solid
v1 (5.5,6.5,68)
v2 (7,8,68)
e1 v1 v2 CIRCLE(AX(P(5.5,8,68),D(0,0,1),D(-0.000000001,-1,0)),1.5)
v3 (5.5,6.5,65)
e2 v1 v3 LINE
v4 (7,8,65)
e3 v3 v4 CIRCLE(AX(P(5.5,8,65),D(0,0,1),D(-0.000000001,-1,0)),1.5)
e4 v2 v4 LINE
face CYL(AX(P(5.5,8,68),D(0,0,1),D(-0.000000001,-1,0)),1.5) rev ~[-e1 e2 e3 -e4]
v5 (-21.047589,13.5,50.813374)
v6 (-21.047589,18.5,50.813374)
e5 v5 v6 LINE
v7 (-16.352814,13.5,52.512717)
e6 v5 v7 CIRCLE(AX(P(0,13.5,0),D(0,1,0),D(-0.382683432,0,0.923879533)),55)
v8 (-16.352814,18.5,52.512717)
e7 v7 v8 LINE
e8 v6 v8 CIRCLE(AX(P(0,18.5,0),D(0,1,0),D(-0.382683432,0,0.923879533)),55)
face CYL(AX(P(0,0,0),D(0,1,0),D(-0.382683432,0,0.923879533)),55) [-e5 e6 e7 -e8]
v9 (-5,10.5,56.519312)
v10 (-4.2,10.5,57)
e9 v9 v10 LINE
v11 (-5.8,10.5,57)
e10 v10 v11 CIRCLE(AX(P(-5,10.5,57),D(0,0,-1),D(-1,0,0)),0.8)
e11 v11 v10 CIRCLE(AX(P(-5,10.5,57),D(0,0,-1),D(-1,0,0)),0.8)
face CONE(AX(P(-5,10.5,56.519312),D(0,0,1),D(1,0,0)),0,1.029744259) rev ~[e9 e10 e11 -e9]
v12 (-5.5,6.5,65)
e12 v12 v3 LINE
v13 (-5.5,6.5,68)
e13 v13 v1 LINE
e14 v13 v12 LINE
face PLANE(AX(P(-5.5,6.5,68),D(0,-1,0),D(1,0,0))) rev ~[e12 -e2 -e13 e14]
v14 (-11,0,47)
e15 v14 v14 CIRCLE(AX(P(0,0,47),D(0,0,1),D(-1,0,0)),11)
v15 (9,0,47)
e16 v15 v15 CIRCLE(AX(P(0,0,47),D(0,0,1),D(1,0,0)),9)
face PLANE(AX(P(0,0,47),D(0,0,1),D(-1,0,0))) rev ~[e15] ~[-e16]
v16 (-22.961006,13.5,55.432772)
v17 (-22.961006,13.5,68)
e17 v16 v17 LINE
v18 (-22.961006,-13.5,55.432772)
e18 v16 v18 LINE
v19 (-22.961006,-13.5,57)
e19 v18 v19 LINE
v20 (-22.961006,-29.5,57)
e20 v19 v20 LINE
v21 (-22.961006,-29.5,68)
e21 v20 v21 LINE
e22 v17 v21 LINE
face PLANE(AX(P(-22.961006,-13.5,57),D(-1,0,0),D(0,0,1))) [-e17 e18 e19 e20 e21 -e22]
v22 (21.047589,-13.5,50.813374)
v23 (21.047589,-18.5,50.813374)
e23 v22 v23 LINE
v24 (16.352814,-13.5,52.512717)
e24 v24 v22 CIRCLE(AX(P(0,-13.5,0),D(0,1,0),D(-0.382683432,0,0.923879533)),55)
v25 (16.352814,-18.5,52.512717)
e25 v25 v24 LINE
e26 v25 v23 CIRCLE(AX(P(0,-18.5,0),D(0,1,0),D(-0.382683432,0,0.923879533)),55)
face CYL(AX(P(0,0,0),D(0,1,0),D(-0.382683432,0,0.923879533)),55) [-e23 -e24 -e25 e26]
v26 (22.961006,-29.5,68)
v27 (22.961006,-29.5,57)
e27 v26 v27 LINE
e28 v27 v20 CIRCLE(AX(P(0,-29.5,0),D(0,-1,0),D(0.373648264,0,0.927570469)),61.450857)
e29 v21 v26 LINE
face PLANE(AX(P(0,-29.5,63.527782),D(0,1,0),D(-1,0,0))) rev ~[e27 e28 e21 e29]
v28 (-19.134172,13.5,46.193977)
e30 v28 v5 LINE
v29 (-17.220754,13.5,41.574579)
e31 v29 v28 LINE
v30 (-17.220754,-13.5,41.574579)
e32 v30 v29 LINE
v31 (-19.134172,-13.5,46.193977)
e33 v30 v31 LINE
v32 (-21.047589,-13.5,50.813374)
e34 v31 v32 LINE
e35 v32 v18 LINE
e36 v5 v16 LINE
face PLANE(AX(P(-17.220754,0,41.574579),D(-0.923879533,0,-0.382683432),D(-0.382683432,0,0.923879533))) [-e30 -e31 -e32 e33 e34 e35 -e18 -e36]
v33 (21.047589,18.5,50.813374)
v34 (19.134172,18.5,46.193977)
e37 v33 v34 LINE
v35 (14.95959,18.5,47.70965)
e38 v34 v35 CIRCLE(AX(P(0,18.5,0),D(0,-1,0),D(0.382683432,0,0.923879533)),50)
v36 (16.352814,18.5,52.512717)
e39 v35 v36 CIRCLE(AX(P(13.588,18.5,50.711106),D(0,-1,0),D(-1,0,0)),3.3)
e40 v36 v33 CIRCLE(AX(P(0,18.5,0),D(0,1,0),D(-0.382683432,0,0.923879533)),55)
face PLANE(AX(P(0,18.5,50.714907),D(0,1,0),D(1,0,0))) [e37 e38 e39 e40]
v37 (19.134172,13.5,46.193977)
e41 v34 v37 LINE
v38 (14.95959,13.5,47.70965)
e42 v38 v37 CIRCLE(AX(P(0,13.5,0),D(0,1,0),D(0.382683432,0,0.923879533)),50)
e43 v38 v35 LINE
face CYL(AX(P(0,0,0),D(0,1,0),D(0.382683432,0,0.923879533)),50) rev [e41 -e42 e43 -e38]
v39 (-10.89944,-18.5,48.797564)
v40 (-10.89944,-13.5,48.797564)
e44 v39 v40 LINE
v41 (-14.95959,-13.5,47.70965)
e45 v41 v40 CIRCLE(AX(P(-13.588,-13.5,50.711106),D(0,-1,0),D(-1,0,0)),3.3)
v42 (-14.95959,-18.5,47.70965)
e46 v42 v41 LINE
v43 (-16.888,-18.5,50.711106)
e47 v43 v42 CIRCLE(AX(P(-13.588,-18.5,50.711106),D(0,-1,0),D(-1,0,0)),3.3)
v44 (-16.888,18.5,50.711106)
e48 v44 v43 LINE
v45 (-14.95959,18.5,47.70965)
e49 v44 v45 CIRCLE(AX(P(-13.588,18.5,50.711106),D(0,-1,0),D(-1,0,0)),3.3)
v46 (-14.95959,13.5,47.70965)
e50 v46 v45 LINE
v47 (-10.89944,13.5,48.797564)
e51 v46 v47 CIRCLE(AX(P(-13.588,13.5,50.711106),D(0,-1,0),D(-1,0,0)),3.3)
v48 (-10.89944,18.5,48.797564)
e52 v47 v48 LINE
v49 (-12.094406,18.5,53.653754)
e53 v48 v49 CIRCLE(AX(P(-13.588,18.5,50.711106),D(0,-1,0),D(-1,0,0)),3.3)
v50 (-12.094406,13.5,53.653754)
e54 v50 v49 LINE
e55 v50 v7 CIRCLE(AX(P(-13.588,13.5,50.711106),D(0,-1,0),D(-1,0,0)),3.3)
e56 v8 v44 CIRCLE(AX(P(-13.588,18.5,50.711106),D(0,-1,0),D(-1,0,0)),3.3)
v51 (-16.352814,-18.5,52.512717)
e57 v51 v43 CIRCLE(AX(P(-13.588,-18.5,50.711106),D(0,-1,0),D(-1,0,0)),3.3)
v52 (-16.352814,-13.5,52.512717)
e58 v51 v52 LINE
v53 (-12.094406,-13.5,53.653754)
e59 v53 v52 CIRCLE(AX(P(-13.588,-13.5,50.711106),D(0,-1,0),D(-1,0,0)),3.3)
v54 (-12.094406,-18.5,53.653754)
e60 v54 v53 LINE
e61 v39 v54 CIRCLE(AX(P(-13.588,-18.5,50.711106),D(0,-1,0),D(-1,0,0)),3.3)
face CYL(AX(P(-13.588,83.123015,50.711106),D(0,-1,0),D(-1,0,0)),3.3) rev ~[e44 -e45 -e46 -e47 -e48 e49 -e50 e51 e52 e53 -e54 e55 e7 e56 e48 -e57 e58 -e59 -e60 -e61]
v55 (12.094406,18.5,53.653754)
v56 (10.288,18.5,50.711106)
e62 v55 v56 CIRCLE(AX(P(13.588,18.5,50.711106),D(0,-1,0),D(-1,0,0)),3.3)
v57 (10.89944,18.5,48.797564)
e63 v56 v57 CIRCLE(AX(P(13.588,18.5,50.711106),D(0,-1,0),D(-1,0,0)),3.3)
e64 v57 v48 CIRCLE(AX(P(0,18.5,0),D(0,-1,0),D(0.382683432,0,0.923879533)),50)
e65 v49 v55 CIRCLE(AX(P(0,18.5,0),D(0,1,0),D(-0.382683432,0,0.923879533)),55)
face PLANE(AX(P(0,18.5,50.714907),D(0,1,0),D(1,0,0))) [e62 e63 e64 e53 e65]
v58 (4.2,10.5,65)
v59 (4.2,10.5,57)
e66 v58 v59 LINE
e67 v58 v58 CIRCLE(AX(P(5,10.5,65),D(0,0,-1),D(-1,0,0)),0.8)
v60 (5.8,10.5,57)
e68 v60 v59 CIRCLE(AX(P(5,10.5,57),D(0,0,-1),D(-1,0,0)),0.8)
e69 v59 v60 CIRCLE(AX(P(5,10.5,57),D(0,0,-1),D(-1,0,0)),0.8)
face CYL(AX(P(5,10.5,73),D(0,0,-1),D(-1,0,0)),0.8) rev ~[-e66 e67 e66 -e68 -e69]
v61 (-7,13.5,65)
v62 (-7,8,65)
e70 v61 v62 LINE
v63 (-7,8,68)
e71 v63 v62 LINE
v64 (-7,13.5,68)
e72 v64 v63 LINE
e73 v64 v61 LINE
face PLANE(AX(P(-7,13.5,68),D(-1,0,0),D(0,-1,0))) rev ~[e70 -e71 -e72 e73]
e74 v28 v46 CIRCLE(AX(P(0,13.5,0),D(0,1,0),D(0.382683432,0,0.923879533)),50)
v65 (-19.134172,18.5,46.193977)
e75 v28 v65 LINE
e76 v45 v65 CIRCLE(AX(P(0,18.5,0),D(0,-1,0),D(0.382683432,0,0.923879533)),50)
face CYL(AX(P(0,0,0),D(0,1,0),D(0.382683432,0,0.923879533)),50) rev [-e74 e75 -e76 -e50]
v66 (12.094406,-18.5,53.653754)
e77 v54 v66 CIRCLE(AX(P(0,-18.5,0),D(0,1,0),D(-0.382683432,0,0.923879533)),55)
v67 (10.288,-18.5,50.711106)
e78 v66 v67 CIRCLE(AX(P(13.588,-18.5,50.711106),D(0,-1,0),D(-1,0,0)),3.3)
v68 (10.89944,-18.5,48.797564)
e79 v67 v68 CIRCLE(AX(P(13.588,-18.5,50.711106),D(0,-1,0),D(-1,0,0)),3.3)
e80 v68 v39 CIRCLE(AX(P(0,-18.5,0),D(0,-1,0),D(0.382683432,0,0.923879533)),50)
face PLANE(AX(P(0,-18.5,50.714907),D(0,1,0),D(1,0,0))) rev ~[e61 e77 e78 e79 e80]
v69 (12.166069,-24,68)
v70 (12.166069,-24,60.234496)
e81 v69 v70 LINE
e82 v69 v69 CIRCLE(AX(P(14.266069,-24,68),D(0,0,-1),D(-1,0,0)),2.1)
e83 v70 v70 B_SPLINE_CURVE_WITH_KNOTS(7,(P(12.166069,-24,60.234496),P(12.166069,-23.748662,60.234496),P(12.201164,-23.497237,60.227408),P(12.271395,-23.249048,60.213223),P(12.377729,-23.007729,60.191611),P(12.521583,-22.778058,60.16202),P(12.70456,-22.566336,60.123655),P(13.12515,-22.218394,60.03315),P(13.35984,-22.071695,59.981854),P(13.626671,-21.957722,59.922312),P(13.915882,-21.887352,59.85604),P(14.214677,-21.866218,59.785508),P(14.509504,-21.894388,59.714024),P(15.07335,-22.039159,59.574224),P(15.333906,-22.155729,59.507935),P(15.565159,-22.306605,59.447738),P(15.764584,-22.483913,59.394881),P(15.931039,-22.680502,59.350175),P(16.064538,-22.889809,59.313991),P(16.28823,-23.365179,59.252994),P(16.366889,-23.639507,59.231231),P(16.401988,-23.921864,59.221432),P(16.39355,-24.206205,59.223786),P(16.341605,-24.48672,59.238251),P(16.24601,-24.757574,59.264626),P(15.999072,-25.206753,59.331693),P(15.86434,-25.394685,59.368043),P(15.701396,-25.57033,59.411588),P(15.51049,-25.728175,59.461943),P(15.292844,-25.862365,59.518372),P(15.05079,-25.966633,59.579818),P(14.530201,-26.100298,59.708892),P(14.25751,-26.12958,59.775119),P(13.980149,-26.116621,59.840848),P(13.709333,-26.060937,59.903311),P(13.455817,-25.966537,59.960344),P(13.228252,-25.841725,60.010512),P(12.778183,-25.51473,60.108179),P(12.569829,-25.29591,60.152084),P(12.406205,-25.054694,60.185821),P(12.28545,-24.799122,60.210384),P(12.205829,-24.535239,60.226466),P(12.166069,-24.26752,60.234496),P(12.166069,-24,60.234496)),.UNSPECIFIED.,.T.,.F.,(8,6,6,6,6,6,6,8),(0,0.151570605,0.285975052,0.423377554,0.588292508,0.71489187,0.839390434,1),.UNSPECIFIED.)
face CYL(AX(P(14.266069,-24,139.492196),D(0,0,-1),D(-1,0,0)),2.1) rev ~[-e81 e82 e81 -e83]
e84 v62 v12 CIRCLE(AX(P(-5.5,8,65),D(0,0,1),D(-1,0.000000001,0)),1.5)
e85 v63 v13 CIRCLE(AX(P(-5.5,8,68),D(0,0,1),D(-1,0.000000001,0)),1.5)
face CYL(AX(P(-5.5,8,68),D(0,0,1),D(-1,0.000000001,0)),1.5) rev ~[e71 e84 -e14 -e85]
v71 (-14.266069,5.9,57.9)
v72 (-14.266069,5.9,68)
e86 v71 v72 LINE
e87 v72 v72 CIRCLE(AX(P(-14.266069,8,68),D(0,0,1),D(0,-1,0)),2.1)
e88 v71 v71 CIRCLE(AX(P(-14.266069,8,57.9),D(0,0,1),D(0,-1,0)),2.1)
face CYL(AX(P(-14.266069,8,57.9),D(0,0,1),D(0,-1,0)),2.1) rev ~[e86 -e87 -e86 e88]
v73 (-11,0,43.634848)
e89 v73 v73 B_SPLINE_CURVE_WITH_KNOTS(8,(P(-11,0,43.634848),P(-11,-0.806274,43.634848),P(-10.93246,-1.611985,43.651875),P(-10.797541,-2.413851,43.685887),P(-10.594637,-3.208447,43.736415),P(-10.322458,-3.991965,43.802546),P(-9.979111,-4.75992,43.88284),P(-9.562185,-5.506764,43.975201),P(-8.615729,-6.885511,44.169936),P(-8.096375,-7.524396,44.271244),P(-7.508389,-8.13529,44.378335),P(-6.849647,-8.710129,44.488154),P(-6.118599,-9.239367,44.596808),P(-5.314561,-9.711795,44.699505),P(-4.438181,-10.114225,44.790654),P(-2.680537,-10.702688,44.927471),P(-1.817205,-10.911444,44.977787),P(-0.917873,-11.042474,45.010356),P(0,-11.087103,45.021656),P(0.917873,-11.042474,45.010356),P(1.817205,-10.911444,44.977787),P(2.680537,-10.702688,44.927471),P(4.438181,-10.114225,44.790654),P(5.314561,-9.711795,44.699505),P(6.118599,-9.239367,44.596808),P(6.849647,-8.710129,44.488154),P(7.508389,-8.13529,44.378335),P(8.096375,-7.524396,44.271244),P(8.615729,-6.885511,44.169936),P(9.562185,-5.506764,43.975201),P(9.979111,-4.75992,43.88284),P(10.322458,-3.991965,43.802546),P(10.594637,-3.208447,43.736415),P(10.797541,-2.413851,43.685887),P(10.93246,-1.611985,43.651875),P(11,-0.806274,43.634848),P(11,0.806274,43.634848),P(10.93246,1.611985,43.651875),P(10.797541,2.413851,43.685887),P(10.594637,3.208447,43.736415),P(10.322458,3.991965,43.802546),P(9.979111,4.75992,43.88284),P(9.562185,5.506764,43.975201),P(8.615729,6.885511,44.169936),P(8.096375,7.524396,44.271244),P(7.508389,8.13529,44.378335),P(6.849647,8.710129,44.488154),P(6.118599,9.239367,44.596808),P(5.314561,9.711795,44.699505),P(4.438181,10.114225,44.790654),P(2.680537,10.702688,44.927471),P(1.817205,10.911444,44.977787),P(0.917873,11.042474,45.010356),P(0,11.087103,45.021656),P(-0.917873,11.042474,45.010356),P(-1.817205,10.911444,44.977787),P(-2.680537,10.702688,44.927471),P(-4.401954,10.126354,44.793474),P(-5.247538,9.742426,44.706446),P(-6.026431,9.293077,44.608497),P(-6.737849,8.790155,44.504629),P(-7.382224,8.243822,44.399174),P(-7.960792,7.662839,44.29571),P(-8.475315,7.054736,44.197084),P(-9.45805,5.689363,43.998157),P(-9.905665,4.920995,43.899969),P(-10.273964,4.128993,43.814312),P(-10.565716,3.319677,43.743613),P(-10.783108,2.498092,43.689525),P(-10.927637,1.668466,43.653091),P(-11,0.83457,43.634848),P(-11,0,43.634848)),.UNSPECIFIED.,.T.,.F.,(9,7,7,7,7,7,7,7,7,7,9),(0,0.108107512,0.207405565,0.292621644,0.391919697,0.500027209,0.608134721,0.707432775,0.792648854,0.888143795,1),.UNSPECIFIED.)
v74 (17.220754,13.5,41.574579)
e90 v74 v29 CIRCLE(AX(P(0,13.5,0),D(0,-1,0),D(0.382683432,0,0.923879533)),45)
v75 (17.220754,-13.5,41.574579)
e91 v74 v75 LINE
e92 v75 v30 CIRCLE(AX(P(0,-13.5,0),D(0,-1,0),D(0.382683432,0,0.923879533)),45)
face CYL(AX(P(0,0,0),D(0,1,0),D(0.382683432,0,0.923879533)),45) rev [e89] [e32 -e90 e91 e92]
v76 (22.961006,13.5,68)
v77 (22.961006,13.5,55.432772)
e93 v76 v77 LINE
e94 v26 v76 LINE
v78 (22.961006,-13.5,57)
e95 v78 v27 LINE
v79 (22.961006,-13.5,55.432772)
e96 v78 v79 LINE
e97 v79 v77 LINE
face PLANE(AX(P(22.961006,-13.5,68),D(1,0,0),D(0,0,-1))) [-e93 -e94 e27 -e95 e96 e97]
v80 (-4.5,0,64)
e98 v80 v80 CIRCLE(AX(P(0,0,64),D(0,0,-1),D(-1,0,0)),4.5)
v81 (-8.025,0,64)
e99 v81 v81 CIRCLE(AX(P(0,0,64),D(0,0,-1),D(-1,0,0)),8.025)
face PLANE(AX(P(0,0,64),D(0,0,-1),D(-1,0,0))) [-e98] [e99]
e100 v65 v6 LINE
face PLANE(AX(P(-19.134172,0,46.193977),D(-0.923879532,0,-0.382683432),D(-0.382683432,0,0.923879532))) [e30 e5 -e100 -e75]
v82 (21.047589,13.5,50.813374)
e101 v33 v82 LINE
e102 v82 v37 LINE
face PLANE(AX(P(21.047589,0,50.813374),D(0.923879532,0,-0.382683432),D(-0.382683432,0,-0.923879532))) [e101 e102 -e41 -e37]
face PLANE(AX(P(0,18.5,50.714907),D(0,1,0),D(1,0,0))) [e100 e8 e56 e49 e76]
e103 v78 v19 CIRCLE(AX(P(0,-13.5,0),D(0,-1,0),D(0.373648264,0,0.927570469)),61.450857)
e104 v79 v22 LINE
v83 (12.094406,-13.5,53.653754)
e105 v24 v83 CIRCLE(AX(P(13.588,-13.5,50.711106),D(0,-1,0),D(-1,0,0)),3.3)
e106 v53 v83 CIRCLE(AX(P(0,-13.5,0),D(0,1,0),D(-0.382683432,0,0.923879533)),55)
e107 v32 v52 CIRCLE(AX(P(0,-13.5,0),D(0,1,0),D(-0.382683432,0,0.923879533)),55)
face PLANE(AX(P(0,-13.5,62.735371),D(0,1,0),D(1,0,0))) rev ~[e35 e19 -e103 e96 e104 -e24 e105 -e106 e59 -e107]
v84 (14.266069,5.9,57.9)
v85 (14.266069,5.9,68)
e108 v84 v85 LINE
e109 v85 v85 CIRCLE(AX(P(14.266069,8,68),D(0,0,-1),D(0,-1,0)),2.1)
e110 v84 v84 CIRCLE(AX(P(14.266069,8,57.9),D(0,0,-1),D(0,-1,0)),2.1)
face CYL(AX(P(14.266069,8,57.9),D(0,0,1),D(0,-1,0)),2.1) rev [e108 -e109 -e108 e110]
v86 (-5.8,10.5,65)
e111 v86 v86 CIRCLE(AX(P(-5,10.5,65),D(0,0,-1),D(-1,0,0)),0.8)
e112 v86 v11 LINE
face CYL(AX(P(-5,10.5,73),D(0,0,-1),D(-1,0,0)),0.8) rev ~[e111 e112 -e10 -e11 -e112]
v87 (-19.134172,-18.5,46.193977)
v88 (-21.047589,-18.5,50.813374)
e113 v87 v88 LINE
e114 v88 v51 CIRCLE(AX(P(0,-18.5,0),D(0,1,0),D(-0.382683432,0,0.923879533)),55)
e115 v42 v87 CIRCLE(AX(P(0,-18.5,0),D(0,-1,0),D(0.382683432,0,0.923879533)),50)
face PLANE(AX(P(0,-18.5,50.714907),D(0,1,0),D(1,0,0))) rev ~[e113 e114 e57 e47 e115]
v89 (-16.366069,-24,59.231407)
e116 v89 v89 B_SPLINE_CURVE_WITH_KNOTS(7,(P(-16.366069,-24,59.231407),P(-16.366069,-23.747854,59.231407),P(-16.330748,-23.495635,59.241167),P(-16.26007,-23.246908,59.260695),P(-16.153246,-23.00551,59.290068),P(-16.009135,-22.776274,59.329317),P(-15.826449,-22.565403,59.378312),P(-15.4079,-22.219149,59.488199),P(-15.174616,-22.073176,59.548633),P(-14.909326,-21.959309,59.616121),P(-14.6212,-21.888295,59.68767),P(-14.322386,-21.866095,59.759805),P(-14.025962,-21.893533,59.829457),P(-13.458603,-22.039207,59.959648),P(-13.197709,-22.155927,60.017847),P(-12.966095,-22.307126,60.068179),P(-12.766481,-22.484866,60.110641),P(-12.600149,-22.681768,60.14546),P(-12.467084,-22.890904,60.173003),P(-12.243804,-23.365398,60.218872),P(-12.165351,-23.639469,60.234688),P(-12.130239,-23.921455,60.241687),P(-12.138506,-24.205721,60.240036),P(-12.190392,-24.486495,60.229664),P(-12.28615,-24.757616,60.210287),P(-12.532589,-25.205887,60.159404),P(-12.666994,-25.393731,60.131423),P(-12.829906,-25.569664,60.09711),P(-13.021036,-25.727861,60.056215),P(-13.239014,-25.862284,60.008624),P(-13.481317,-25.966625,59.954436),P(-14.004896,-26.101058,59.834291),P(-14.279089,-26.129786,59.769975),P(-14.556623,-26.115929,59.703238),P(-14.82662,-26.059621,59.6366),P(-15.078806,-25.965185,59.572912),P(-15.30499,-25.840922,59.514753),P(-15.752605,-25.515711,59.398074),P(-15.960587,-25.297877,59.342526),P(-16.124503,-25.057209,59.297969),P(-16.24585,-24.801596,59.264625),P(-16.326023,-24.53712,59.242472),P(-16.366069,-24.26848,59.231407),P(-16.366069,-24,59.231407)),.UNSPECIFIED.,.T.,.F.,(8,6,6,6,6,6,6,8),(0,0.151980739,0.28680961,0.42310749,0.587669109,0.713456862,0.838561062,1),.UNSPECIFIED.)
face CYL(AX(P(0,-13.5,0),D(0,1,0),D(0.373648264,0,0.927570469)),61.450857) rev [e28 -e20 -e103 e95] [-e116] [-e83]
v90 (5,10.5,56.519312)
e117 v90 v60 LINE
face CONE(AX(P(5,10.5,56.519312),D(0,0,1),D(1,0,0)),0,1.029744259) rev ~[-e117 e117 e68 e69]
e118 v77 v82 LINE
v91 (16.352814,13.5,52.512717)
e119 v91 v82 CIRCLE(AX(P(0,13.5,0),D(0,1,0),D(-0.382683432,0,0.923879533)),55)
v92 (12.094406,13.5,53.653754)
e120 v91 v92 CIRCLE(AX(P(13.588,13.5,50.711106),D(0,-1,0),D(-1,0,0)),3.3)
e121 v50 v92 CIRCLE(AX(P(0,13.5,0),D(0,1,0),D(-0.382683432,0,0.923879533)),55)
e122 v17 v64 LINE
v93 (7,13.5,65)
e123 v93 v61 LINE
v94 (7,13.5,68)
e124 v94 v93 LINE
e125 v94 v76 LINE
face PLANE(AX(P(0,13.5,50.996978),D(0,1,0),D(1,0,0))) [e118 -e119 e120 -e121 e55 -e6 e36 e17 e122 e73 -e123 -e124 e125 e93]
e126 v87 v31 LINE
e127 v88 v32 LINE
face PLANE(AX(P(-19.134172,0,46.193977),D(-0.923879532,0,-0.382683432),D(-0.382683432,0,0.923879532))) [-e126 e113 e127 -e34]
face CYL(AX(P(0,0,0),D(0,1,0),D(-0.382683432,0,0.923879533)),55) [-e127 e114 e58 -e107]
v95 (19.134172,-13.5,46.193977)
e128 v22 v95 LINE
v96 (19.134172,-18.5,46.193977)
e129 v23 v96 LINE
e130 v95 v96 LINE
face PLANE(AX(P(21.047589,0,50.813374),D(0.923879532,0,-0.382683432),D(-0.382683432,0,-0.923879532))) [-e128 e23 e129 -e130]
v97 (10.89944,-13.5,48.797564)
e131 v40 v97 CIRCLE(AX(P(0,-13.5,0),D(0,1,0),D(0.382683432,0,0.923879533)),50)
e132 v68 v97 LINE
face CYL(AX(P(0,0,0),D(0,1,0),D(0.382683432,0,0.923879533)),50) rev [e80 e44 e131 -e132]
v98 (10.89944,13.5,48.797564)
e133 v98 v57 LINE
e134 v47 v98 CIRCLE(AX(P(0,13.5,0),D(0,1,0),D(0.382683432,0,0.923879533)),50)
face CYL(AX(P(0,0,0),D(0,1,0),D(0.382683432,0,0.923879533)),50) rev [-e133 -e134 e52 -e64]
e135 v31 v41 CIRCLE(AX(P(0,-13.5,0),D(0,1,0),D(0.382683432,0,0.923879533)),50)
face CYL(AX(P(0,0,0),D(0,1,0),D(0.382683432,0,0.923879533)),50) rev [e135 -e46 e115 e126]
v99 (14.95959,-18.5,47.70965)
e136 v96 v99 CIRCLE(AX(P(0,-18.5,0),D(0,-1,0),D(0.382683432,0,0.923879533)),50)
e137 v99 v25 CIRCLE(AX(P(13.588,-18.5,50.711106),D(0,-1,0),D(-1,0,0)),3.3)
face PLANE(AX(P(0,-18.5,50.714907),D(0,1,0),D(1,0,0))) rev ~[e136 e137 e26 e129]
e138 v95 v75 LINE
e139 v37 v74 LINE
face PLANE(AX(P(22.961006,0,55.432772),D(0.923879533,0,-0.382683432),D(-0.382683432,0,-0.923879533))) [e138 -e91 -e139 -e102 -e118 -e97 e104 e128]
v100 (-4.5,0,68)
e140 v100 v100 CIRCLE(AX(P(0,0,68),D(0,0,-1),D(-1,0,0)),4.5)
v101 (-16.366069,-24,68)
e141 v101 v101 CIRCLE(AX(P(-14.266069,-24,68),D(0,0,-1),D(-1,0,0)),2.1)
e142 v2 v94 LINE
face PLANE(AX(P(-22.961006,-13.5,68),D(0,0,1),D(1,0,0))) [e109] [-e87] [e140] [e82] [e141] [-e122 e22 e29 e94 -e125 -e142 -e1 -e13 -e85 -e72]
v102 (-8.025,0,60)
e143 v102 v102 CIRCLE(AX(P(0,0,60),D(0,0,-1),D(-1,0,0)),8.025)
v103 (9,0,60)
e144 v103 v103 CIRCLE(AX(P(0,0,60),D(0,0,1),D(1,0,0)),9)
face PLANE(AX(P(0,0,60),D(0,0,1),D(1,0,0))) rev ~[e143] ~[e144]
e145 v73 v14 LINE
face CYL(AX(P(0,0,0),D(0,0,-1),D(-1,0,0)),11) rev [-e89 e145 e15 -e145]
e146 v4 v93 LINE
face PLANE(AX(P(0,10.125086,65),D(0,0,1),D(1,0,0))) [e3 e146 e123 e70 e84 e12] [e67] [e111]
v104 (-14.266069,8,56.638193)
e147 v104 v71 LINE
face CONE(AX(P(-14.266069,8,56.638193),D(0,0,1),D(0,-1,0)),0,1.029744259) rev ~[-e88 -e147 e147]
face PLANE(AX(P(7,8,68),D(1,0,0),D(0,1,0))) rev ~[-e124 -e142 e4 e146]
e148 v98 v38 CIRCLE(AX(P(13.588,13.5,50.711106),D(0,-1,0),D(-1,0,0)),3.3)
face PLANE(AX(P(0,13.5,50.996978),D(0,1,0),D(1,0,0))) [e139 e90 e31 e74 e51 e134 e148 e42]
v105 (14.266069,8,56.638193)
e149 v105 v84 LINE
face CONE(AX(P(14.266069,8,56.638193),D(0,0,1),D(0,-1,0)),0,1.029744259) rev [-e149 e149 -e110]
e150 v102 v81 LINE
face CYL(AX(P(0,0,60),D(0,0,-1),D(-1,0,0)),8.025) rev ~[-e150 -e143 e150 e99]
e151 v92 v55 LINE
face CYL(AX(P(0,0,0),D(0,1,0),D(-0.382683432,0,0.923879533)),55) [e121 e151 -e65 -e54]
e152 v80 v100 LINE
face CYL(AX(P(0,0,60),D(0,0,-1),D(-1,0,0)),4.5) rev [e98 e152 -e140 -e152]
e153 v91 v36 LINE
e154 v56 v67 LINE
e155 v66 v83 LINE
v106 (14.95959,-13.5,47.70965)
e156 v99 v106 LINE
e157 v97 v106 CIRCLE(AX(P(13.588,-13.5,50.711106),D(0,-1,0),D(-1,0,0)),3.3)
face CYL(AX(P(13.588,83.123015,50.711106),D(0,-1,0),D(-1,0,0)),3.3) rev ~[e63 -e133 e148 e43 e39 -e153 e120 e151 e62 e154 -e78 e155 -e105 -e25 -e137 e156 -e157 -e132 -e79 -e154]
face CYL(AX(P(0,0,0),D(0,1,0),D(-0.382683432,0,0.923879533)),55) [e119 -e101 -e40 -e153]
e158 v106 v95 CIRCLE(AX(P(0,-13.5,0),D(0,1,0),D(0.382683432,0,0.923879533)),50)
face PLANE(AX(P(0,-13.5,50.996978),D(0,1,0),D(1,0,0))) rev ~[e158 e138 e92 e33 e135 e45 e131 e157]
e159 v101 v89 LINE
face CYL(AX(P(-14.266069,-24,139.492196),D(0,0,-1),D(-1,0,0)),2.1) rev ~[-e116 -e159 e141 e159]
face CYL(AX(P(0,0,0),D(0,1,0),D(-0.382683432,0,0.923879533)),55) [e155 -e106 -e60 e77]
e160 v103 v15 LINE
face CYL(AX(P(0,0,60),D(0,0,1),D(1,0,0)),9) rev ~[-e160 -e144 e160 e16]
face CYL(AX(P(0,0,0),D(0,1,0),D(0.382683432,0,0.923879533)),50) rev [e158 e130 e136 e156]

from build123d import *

# Parameters (mm, degrees)
BOSS_EXTRUDE1_DEPTH      = 13.5
BOSS_EXTRUDE2_DEPTH      = 18.5
BOSS_EXTRUDE3_DEPTH      = 5
SKETCH4_W                = 45.922011884
SKETCH4_H                = 20
BOSS_EXTRUDE4_DEPTH      = 13.5
SKETCH2_R                = 4
CUT_EXTRUDE1_DEPTH       = 268.629329099
SKETCH5_R                = 8
CUT_EXTRUDE2_DEPTH       = 4
SKETCH6_R                = 9
CUT_EXTRUDE3_DEPTH       = 12
SKETCH7_R                = 12.5
CUT_EXTRUDE4_DEPTH       = 5
BOSS_EXTRUDE5_DEPTH      = 13.5
CUT_EXTRUDE5_REACH       = 210.1
CUT_EXTRUDE5_END_RADIUS  = 45
SKETCH8_R                = 9
CUT_EXTRUDE6_REACH       = 210.1
SKETCH10_R               = 4.5
SKETCH18_R               = 11
CUT_EXTRUDE9_DEPTH       = 47
CUT_EXTRUDE10_DEPTH      = 268.629329099
CUT_EXTRUDE10_DEPTH_BACK = 268.629329099
SKETCH19_W               = 45.922011884
SKETCH19_H               = 198
M6_CLEARANCE_HOLE1_D     = 6.6
SKETCH30_R               = 8.025
CUT_EXTRUDE13_DEPTH      = 4
BOSS_EXTRUDE9_DEPTH      = 16
M5_TAPPED_HOLE2_D        = 4.2
CUT_EXTRUDE16_DEPTH      = 3
M2_TAPPED_HOLE1_D        = 1.6
M2_TAPPED_HOLE1_DEPTH    = 8
M2_TAPPED_HOLE1_TIP      = 0.480688495


with BuildPart() as part:
    # Sketch1 → Boss-Extrude1 (new, symmetric)
    with BuildSketch(Plane(origin=(0, 0, 0), x_dir=(1, 0, 0), z_dir=(0, 1, 0))):
        with BuildLine():
            ThreePointArc((17.220754456, -41.574578963), (0, -45), (-17.220754456, -41.574578963))
            Line((-17.220754456, -41.574578963), (-22.961005942, -55.432771951))
            ThreePointArc((-22.961005942, -55.432771951), (0, -60), (22.961005942, -55.432771951))
            Line((22.961005942, -55.432771951), (17.220754456, -41.574578963))
        make_face()
    extrude(amount=BOSS_EXTRUDE1_DEPTH, both=True)

    # Sketch1_3 → Boss-Extrude2 (add, symmetric)
    with BuildSketch(Plane(origin=(0, 0, 0), x_dir=(1, 0, 0), z_dir=(0, 1, 0))):
        with BuildLine():
            ThreePointArc((19.134171618, -46.193976626), (0, -50), (-19.134171618, -46.193976626))
            Line((-19.134171618, -46.193976626), (-21.04758878, -50.813374288))
            ThreePointArc((-21.04758878, -50.813374288), (0, -55), (21.04758878, -50.813374288))
            Line((21.04758878, -50.813374288), (19.134171618, -46.193976626))
        make_face()
    extrude(amount=BOSS_EXTRUDE2_DEPTH, both=True)

    # Sketch3 → Boss-Extrude3 (add, symmetric)
    with BuildSketch(Plane.XZ):
        with BuildLine():
            Line((-22.961005942, 266), (-22.961005942, 55.432771951))
            ThreePointArc((-22.961005942, 55.432771951), (-20.481139434, 56.39612511), (-17.961005942, 57.248600555))
            Line((-17.961005942, 57.248600555), (-17.961005942, 246))
            Line((-17.961005942, 246), (17.961005942, 246))
            Line((17.961005942, 246), (17.961005942, 57.248600555))
            ThreePointArc((17.961005942, 57.248600555), (20.481139434, 56.39612511), (22.961005942, 55.432771951))
            Line((22.961005942, 55.432771951), (22.961005942, 266))
            Line((22.961005942, 266), (-22.961005942, 266))
        make_face()
    extrude(amount=BOSS_EXTRUDE3_DEPTH, both=True)

    # Sketch4 → Boss-Extrude4 (add, symmetric)
    with BuildSketch(Plane(origin=(0, 0, 0), x_dir=(1, 0, 0), z_dir=(0, 1, 0))):
        with Locations((0, -256)):
            Rectangle(SKETCH4_W, SKETCH4_H)
    extrude(amount=BOSS_EXTRUDE4_DEPTH, both=True)

    # Sketch2 → Cut-Extrude1 (cut, through all)
    with BuildSketch(Plane.XY):
        with Locations(Location((0, 0, 0), (0, 0, 180))):
            Circle(SKETCH2_R)
    extrude(amount=CUT_EXTRUDE1_DEPTH, mode=Mode.SUBTRACT)

    # Sketch5 → Cut-Extrude2 (cut)
    with BuildSketch(Plane(origin=(0, 0, 246), x_dir=(-1, 0, 0), z_dir=(0, 0, -1))):
        Circle(SKETCH5_R)
    extrude(amount=-CUT_EXTRUDE2_DEPTH, mode=Mode.SUBTRACT)

    # Sketch6 → Cut-Extrude3 (cut)
    with BuildSketch(Plane.XY.offset(266)):
        Circle(SKETCH6_R)
    extrude(amount=-CUT_EXTRUDE3_DEPTH, mode=Mode.SUBTRACT)

    # Sketch7 → Cut-Extrude4 (cut)
    with BuildSketch(Plane.XY.offset(266)):
        Circle(SKETCH7_R)
    extrude(amount=-CUT_EXTRUDE4_DEPTH, mode=Mode.SUBTRACT)

    # Sketch9 → Boss-Extrude5 (add, symmetric)
    with BuildSketch(Plane(origin=(0, 0, 0), x_dir=(1, 0, 0), z_dir=(0, 1, 0))):
        with BuildLine():
            Line((-22.961005942, -55.432771951), (-22.961005942, -68))
            Line((-22.961005942, -68), (22.961005942, -68))
            Line((22.961005942, -68), (22.961005942, -55.432771951))
            ThreePointArc((22.961005942, -55.432771951), (0, -60), (-22.961005942, -55.432771951))
        make_face()
    extrude(amount=BOSS_EXTRUDE5_DEPTH, both=True)

    # Cut-Extrude5: up to this cylinder (the profile starts outside it)
    cut_extrude5_end = Plane(origin=(0, 0, 0), z_dir=(0, -1, 0)) * Cylinder(CUT_EXTRUDE5_END_RADIUS, 511.2, mode=Mode.PRIVATE)
    # Sketch8 → Cut-Extrude5 (cut, up to the surface)
    with BuildSketch(Plane.XY.offset(60), mode=Mode.PRIVATE) as cut_extrude5_sk1:
        Circle(SKETCH8_R)
    cut_extrude5_tool1 = extrude(cut_extrude5_sk1.sketch, amount=-CUT_EXTRUDE5_REACH, mode=Mode.PRIVATE) - cut_extrude5_end
    add(cut_extrude5_tool1.solids().sort_by_distance((0, 0, 60))[0], mode=Mode.SUBTRACT)

    # Sketch10 → Cut-Extrude6 (cut, up to next)
    with BuildSketch(Plane.XY.offset(60), mode=Mode.PRIVATE) as cut_extrude6_sk1:
        with Locations(Location((0, 0, 0), (0, 0, 180))):
            Circle(SKETCH10_R)
    cut_extrude6_tool1 = extrude(cut_extrude6_sk1.sketch, amount=CUT_EXTRUDE6_REACH, mode=Mode.PRIVATE) & part.part
    add(cut_extrude6_tool1.solids().sort_by_distance((0, 0, 60))[0], mode=Mode.SUBTRACT)

    # Sketch18 → Cut-Extrude9 (cut)
    with BuildSketch(Plane.XY):
        with Locations(Location((0, 0, 0), (0, 0, 180))):
            Circle(SKETCH18_R)
    extrude(amount=CUT_EXTRUDE9_DEPTH, mode=Mode.SUBTRACT)

    # Sketch19 → Cut-Extrude10 (cut, two sides: drawn at the far end of the back side and taken through both)
    with BuildSketch(Plane(origin=(0, 0, 0), x_dir=(1, 0, 0), z_dir=(0, 1, 0)).offset(-CUT_EXTRUDE10_DEPTH_BACK)):
        with Locations((0, -167)):
            Rectangle(SKETCH19_W, SKETCH19_H)
    extrude(amount=CUT_EXTRUDE10_DEPTH + CUT_EXTRUDE10_DEPTH_BACK, mode=Mode.SUBTRACT)

    # Sketch23 → M5 Tapped Hole1 (revolve, cut)
    with BuildSketch(Plane(origin=(14.26606865, 8, 68), x_dir=(0, -1, 0), z_dir=(1, 0, 0))):
        Polygon((0, 0), (0, 11.3618073), (2.1, 10.1), (2.1, 0), align=None)
    m5_tapped_hole1 = revolve(axis=Axis((14.26606865, 8, 74.35), (0, 0, -1)), mode=Mode.SUBTRACT)

    # Mirror1: M5 Tapped Hole1 across plane
    add(m5_tapped_hole1.mirror(Plane(origin=(0, 0, 0), x_dir=(0, 0, 1), z_dir=(1, 0, 0))), mode=Mode.SUBTRACT)

    # M6 Clearance Hole1 (through all)
    with Locations(Plane(origin=(0, 18.5, 0), x_dir=(1, 0, 0), z_dir=(0, 1, 0))):
        with Locations((-13.587999868, -50.71110588), (13.587999868, -50.71110588)):
            Hole(M6_CLEARANCE_HOLE1_D / 2)

    # Sketch30 → Cut-Extrude13 (cut)
    with BuildSketch(Plane(origin=(0, 0, 60), x_dir=(-1, 0, 0), z_dir=(0, 0, -1))):
        Circle(SKETCH30_R)
    extrude(amount=-CUT_EXTRUDE13_DEPTH, mode=Mode.SUBTRACT)

    # Sketch37 → Boss-Extrude9 (add)
    with BuildSketch(Plane.XZ.offset(13.5)):
        with BuildLine():
            Line((-22.961005942, 68), (22.961005942, 68))
            Line((22.961005942, 68), (22.961005942, 57))
            ThreePointArc((22.961005942, 57), (0, 61.450856738), (-22.961005942, 57))
            Line((-22.961005942, 57), (-22.961005942, 68))
        make_face()
    extrude(amount=BOSS_EXTRUDE9_DEPTH)

    # M5 Tapped Hole2 (through all)
    with Locations(Plane.XY.offset(68)):
        with Locations((-14.26606865, -24), (14.26606865, -24)):
            Hole(M5_TAPPED_HOLE2_D / 2)

    # Sketch41 → Cut-Extrude16 (cut)
    with BuildSketch(Plane.XY.offset(68)):
        with BuildLine():
            Line((-7, 13.5), (-7, 8))
            ThreePointArc((-7, 8), (-6.560660172, 6.939339828), (-5.5, 6.5))
            Line((-5.5, 6.5), (5.5, 6.5))
            ThreePointArc((5.5, 6.5), (6.560660172, 6.939339828), (7, 8))
            Line((7, 8), (7, 13.5))
            Line((7, 13.5), (-7, 13.5))
        make_face()
    extrude(amount=-CUT_EXTRUDE16_DEPTH, mode=Mode.SUBTRACT)

    # M2 Tapped Hole1
    with Locations(Plane.XY.offset(65)):
        with Locations((-5, 10.5), (5, 10.5)):
            Hole(M2_TAPPED_HOLE1_D / 2, depth=M2_TAPPED_HOLE1_DEPTH)
            with Locations((0, 0, -(M2_TAPPED_HOLE1_DEPTH + M2_TAPPED_HOLE1_TIP / 2))):  # 118° drill point
                Cone(0, M2_TAPPED_HOLE1_D / 2, M2_TAPPED_HOLE1_TIP, mode=Mode.SUBTRACT)


solid = part.part
